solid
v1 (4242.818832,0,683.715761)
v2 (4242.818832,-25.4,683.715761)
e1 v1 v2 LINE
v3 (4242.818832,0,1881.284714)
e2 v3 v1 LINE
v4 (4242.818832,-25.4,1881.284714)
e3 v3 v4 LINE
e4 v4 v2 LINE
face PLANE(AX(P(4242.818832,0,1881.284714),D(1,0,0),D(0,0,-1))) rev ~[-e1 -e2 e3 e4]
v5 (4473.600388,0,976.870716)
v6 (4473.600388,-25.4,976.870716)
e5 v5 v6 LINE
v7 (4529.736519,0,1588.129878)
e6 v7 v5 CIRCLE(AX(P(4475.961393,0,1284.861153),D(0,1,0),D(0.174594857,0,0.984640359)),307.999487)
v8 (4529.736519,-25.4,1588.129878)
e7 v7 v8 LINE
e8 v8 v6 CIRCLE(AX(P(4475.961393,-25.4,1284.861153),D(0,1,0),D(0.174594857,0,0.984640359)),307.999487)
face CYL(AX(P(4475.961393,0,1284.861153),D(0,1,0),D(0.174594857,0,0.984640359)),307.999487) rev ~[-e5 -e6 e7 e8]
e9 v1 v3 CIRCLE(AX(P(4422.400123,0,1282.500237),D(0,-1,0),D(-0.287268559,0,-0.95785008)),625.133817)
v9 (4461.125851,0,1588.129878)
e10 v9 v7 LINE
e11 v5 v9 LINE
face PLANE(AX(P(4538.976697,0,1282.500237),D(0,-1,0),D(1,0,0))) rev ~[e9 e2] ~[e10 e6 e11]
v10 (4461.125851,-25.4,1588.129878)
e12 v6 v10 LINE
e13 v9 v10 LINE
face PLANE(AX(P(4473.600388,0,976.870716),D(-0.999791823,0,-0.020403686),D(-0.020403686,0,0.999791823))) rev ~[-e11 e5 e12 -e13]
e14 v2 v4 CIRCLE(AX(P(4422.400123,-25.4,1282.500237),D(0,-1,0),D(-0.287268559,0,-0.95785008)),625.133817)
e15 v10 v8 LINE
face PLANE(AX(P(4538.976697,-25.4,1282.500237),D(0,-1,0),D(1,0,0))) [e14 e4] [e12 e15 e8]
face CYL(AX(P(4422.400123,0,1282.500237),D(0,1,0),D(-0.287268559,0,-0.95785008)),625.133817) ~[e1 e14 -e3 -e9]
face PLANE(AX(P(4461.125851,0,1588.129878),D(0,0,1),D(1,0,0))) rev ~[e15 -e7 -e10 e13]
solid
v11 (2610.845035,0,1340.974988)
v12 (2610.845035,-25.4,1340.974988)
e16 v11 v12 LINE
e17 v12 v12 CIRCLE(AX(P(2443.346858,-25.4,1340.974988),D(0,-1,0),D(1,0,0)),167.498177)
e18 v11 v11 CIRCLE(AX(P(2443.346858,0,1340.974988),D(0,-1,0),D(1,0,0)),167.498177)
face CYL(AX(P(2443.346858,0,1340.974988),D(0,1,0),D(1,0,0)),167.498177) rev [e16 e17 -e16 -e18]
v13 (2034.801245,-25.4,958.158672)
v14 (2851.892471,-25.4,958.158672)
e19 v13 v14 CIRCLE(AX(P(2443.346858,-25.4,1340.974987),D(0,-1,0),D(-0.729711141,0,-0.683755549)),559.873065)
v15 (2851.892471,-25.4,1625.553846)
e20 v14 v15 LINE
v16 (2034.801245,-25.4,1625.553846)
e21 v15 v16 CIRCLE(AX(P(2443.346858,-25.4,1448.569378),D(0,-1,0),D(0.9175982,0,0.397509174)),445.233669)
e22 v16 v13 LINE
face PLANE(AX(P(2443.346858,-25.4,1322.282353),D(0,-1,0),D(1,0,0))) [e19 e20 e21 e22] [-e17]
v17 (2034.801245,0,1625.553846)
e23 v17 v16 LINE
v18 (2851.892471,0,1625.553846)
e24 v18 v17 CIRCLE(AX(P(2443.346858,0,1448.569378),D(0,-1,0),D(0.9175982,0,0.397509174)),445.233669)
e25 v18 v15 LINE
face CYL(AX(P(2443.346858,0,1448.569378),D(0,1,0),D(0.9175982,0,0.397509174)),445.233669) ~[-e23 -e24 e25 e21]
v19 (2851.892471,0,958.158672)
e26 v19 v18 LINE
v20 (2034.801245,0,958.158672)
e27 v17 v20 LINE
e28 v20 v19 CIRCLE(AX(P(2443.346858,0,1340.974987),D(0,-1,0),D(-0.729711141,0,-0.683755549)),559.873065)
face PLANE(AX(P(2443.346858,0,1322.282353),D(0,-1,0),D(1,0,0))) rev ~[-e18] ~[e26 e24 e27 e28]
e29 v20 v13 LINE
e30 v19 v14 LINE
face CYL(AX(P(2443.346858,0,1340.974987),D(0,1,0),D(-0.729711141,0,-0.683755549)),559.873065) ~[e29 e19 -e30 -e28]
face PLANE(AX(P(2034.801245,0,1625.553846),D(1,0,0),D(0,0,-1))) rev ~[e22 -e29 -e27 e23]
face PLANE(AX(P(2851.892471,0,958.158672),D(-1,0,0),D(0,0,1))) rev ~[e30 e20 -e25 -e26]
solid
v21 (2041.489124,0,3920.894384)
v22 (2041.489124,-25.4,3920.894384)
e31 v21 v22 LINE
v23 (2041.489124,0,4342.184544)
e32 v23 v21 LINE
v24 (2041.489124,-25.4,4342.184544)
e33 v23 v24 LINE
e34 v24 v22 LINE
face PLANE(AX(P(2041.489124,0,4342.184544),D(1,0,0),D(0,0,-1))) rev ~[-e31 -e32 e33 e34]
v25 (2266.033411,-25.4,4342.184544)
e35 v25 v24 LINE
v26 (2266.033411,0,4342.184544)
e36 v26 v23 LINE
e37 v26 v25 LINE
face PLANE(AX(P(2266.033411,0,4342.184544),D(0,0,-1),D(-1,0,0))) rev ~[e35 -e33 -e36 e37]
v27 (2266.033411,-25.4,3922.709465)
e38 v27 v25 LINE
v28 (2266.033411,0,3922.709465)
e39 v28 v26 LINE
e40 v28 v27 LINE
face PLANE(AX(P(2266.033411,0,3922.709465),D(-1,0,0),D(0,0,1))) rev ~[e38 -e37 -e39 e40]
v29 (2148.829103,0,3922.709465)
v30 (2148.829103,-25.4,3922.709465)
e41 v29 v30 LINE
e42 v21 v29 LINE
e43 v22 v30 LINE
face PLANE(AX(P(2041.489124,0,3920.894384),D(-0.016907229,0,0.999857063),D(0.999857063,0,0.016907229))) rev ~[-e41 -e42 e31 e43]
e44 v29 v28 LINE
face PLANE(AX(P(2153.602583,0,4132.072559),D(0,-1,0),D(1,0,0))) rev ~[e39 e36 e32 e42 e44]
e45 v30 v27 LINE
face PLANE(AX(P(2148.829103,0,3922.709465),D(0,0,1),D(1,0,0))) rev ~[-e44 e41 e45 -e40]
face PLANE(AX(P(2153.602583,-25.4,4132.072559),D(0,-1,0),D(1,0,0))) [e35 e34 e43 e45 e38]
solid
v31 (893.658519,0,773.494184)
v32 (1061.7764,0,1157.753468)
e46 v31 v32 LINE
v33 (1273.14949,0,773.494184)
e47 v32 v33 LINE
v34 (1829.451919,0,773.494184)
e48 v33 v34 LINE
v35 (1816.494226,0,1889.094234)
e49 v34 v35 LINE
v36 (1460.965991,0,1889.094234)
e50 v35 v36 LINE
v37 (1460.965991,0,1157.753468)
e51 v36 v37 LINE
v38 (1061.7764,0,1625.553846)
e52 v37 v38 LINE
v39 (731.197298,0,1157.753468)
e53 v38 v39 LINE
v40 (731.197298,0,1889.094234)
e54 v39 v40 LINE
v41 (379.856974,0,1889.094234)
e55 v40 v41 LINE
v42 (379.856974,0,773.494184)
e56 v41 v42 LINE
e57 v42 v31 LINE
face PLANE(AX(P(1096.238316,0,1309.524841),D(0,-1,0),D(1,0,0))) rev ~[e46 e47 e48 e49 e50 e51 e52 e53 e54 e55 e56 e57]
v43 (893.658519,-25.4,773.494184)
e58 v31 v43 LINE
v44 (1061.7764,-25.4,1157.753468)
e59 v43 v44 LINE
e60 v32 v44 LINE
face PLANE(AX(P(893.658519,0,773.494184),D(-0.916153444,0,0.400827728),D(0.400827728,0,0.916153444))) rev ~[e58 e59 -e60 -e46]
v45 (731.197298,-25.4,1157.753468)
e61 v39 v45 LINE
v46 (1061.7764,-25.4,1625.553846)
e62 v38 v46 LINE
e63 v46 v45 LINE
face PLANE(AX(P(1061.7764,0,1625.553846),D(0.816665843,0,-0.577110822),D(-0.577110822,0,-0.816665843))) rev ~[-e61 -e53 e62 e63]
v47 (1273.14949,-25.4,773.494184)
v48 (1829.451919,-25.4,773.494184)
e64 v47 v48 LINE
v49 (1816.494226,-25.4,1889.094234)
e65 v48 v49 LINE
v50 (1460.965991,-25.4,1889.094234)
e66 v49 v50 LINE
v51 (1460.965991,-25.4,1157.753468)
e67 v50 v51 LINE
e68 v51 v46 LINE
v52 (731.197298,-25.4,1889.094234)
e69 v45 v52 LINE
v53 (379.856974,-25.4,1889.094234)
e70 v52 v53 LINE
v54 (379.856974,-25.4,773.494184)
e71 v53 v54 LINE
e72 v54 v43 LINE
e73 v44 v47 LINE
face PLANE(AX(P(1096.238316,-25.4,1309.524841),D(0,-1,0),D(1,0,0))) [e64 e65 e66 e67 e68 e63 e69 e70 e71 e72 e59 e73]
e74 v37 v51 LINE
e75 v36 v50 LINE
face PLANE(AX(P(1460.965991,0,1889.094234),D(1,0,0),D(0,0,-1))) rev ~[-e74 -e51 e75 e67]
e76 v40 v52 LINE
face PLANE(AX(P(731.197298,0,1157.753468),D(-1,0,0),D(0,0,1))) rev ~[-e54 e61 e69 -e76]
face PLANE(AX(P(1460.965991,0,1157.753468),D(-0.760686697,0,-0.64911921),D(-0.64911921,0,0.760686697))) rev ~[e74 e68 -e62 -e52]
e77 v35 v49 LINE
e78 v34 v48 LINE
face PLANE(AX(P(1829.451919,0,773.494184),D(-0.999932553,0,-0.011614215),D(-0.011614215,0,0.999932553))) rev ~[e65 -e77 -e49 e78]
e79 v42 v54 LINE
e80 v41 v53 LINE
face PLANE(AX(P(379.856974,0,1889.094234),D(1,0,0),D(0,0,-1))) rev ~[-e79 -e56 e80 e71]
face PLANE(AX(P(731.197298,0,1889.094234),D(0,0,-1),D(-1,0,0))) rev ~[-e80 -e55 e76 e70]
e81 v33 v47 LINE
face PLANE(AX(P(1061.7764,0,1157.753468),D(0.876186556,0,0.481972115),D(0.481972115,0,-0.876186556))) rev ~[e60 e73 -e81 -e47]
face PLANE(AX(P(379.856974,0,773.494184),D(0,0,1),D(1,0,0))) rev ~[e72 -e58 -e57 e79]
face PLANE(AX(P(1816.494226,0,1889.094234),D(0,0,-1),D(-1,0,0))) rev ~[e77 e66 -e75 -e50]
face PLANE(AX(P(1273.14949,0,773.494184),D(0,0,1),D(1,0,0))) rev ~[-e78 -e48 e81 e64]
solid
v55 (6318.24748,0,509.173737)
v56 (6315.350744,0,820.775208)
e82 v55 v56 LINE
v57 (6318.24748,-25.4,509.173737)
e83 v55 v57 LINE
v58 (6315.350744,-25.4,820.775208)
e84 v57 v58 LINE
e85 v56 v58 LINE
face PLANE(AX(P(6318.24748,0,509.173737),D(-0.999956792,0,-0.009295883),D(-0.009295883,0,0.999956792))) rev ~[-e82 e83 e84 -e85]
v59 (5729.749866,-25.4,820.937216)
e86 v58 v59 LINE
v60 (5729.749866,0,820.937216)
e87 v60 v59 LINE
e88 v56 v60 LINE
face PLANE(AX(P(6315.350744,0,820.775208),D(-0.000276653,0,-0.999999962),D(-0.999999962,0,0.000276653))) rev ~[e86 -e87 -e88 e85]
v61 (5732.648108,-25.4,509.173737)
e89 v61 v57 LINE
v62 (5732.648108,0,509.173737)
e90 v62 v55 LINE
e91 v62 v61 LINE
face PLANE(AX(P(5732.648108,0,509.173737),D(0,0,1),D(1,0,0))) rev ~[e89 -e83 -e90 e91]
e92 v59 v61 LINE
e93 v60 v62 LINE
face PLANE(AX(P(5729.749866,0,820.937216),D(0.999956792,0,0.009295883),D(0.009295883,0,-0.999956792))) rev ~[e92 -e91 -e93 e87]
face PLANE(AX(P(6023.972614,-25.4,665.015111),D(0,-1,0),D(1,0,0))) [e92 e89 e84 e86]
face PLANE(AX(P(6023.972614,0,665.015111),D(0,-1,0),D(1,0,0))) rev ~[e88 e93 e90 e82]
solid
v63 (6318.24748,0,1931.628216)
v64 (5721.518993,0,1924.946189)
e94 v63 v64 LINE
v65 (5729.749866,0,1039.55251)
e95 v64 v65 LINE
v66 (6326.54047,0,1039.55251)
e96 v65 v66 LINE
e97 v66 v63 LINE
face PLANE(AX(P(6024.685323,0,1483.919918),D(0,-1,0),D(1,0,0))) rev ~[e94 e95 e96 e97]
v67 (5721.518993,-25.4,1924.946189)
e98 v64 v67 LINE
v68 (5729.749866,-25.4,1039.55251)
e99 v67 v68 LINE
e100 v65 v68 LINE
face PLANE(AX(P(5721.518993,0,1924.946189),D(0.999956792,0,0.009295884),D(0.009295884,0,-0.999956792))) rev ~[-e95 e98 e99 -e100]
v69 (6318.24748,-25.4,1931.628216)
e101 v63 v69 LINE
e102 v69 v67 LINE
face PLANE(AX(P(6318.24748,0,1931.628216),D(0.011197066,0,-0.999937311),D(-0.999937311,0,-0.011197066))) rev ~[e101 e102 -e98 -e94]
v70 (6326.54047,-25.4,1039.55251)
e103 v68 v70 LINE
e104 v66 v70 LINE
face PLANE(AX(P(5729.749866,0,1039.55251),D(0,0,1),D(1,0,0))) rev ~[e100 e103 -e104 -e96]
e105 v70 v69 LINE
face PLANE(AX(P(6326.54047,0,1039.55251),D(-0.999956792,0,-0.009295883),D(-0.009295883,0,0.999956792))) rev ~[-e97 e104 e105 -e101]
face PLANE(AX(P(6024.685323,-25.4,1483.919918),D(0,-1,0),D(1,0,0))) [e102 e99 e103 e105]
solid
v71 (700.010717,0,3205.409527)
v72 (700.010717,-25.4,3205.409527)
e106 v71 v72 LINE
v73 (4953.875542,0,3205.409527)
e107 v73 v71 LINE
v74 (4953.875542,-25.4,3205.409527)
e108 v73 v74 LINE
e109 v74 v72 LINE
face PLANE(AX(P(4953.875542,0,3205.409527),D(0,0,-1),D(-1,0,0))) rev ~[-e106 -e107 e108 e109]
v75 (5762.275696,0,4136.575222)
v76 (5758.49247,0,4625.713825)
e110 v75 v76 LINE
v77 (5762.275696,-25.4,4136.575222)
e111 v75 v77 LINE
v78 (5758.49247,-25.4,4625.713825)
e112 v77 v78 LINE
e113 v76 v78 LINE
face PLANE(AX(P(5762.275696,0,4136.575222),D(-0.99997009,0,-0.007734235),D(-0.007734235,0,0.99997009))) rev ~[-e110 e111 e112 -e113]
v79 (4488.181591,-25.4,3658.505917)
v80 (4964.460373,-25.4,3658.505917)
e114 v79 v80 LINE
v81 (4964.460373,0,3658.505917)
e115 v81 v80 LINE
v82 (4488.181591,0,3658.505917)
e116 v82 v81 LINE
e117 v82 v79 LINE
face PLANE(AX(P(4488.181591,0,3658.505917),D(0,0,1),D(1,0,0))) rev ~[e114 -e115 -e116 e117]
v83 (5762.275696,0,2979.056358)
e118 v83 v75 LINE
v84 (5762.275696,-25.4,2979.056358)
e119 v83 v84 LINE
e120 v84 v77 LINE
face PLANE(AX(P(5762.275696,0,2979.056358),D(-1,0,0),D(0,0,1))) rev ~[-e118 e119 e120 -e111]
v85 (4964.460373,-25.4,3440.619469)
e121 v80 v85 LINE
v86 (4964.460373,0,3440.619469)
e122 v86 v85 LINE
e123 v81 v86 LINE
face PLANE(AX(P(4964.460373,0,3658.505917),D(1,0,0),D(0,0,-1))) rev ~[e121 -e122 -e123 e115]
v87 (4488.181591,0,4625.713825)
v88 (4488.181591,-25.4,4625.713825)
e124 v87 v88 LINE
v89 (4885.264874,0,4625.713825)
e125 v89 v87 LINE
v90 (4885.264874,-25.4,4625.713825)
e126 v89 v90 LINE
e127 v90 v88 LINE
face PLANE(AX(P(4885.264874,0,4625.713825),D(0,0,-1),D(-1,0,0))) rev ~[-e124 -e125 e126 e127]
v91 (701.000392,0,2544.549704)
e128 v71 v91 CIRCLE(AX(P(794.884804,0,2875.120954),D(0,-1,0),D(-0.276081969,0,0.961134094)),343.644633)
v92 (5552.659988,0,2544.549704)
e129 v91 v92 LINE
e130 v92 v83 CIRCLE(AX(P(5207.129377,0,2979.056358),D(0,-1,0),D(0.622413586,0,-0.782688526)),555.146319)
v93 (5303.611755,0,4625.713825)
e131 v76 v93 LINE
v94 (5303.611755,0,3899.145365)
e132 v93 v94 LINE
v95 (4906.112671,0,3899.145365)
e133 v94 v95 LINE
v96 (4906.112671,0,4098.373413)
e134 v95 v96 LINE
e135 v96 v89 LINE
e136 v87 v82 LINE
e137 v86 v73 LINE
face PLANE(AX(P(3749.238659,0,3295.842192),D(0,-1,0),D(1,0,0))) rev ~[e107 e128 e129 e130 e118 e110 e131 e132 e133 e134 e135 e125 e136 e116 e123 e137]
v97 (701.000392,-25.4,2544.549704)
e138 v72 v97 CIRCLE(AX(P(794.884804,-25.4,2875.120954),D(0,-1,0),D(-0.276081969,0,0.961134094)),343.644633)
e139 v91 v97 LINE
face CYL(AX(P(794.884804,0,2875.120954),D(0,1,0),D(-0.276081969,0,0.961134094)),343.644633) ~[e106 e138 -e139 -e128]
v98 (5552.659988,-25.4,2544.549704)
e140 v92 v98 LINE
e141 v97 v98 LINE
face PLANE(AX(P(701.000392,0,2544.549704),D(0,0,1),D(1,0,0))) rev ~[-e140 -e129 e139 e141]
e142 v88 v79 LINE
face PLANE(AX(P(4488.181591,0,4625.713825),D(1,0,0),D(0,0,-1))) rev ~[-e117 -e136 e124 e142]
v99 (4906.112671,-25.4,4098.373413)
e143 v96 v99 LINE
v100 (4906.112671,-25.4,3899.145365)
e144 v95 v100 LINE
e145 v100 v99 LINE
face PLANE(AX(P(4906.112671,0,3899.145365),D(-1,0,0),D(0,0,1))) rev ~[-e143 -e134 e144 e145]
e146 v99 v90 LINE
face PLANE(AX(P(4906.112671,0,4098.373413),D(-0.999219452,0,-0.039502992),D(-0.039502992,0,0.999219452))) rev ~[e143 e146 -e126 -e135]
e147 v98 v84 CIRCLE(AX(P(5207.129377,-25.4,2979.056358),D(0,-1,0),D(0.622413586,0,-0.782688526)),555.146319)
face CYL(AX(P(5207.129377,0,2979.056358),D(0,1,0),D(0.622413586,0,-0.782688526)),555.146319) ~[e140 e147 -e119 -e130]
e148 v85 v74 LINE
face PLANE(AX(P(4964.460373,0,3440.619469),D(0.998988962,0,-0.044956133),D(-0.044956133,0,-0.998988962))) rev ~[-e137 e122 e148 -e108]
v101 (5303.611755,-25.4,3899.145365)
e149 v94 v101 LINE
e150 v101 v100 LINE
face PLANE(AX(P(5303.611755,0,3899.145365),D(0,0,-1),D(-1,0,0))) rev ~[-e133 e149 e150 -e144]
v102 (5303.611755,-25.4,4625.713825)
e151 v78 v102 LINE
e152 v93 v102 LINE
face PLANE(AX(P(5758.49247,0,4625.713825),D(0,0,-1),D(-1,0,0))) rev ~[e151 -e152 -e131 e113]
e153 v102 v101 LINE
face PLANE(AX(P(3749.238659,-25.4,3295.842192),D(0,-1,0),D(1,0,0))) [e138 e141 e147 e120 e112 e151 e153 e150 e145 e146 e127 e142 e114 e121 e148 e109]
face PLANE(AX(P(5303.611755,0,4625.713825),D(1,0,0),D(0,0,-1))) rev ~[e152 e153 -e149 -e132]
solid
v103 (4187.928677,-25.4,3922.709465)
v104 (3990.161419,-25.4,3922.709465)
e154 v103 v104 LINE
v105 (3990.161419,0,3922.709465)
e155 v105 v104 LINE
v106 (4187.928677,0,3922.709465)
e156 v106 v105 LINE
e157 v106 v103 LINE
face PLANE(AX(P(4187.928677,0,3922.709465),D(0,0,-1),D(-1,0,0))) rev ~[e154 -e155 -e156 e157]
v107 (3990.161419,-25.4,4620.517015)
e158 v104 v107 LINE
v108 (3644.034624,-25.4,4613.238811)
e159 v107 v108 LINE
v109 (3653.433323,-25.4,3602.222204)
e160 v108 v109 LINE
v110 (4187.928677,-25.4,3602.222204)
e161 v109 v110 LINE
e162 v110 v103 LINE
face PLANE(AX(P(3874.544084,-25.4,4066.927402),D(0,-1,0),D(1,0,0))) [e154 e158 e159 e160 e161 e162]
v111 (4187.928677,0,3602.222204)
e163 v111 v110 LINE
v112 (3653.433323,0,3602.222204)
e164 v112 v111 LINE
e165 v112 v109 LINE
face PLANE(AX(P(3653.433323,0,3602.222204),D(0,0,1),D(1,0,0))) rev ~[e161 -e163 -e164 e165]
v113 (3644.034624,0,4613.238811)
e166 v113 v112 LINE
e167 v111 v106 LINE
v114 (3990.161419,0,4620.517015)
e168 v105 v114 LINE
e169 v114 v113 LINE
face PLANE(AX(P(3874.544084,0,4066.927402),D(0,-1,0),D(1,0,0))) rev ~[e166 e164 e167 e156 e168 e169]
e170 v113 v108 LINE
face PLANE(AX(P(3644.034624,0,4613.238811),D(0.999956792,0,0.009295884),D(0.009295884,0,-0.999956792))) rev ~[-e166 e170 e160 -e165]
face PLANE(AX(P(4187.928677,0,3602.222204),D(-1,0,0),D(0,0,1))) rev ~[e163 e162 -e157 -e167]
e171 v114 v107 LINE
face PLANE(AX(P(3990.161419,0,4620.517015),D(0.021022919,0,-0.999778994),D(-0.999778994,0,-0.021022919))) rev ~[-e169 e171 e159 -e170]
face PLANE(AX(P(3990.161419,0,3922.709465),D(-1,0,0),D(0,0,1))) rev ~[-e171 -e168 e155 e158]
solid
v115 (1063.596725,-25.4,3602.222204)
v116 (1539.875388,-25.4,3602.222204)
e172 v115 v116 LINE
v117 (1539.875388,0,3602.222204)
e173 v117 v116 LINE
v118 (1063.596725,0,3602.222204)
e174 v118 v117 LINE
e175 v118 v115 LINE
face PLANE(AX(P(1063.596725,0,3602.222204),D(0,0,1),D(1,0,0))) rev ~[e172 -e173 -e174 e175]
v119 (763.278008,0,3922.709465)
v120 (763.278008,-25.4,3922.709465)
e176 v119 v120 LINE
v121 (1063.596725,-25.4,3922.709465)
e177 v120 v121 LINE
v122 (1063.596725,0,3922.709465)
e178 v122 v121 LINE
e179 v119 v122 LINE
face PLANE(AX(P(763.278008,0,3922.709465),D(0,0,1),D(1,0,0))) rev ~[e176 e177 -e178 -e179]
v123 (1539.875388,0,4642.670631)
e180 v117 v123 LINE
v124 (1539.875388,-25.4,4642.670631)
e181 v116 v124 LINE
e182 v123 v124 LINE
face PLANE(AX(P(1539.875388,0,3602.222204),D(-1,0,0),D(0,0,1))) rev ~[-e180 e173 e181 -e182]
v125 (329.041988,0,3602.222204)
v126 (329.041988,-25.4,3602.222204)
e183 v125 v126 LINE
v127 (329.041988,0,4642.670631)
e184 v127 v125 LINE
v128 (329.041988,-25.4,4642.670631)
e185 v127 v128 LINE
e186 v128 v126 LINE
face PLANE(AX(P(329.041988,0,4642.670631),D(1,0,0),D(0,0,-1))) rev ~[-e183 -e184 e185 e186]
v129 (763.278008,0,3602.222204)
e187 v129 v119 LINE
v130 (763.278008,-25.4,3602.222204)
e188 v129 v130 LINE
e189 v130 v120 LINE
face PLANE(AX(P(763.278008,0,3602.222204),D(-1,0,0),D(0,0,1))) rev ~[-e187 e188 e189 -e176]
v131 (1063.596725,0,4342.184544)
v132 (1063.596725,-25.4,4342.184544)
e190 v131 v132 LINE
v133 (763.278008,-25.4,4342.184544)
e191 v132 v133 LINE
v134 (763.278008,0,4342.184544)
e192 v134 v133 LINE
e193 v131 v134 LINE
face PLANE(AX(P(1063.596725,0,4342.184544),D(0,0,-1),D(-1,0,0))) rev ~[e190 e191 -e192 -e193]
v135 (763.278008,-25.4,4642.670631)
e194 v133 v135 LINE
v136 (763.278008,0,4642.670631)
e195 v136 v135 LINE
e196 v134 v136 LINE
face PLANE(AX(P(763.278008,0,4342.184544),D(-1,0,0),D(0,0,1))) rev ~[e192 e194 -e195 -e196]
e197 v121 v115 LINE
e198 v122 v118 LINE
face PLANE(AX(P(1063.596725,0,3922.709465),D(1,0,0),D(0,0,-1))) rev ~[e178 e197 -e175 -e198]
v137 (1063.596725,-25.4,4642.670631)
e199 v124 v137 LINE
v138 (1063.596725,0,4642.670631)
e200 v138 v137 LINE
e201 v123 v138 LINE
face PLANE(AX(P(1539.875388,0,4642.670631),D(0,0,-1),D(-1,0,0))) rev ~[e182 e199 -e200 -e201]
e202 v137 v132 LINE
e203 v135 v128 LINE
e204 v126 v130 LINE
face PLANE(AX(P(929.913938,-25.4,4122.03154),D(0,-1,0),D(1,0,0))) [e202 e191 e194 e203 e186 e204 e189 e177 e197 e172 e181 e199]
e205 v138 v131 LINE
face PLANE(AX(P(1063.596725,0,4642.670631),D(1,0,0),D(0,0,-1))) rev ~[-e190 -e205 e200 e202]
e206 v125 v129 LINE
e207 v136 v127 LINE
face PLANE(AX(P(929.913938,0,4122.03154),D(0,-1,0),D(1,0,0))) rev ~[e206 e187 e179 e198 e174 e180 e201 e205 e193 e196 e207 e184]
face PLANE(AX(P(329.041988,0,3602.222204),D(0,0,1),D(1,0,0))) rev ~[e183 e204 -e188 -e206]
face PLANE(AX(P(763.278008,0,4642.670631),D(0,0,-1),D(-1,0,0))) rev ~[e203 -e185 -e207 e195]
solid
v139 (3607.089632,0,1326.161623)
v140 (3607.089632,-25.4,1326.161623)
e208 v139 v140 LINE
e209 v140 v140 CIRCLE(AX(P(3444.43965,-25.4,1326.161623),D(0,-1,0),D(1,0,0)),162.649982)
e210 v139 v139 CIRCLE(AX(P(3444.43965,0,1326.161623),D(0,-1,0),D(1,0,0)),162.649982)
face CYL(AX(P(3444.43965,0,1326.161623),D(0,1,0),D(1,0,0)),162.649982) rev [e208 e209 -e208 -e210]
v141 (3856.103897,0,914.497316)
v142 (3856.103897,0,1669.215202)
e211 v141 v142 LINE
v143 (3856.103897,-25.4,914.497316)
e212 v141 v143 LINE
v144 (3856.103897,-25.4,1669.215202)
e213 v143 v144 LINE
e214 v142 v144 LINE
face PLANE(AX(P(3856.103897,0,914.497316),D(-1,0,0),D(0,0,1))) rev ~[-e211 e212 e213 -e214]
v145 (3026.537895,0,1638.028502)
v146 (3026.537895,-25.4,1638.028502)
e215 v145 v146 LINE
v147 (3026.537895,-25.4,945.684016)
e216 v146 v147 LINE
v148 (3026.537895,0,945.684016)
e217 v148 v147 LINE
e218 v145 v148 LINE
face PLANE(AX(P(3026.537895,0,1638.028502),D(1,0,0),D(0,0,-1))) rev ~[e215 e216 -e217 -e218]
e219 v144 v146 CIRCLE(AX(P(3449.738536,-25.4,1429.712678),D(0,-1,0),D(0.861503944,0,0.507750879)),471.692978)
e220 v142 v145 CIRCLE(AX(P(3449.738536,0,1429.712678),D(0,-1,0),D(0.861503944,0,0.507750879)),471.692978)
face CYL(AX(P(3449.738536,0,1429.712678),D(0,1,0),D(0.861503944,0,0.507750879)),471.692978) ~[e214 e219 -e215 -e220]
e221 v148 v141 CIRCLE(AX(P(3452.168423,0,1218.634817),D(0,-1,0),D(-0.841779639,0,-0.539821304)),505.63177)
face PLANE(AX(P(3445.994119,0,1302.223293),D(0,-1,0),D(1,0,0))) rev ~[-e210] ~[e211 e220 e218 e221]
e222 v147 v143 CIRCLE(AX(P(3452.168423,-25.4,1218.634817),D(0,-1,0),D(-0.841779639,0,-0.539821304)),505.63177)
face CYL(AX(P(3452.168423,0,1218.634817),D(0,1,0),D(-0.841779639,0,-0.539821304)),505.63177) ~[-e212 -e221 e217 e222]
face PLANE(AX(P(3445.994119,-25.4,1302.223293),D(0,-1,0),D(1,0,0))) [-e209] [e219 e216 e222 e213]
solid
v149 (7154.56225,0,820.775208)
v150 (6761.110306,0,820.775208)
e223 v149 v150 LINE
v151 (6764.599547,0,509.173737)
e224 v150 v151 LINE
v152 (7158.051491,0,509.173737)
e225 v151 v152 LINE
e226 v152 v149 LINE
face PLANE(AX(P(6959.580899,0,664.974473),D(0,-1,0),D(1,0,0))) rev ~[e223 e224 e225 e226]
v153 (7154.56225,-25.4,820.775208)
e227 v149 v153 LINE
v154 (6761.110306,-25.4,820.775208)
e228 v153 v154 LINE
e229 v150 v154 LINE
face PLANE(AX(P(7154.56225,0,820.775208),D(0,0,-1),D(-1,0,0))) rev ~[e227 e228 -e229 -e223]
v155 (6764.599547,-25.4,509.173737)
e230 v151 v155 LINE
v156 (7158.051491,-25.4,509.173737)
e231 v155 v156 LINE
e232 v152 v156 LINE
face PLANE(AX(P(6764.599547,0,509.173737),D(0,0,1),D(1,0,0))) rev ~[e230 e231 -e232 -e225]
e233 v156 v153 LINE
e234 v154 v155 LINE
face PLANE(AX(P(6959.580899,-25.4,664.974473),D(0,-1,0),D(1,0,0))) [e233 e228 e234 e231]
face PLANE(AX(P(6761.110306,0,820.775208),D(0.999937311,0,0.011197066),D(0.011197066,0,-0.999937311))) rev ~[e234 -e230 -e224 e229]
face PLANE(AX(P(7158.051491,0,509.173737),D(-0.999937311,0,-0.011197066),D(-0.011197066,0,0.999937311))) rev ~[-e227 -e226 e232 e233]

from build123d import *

# Parameters (mm, degrees)
F0_R     = 167.498177
F0_R_2   = 162.649982
F3_DEPTH = 25.4


with BuildPart() as f3:
    # F0 (on Front) → F3 (new body)
    with BuildSketch(Plane.XZ):
        Polygon((329.041988, 4642.670631), (329.041988, 4613.238811), (329.041988, 3602.222204), (763.278008, 3602.222204), (763.278008, 3922.709465), (1063.596725, 3922.709465), (1063.596725, 3602.222204), (1539.875388, 3602.222204), (1539.875388, 4642.670631), (1063.596725, 4642.670631), (1063.596725, 4342.184544), (763.278008, 4342.184544), (763.278008, 4642.670631), align=None)
        Polygon((3644.034624, 4613.238811), (3653.433323, 3602.222204), (4187.928677, 3602.222204), (4187.928677, 3922.709465), (3990.161419, 3922.709465), (3990.161419, 4620.517015), align=None)
        with BuildLine():
            Line((4488.181591, 4625.713825), (4488.181591, 4136.575222))
            Line((4488.181591, 4136.575222), (4488.181591, 3658.505917))
            Line((4488.181591, 3658.505917), (4964.460373, 3658.505917))
            Line((4964.460373, 3658.505917), (4964.460373, 3440.619469))
            Line((4964.460373, 3440.619469), (4953.875542, 3205.409527))
            Line((4953.875542, 3205.409527), (4485.037804, 3205.409527))
            Line((4485.037804, 3205.409527), (700.010717, 3205.409527))
            ThreePointArc((700.010717, 3205.409527), (451.240556, 2874.606327), (701.000392, 2544.549704))
            Line((701.000392, 2544.549704), (4940.819263, 2544.549704))
            Line((4940.819263, 2544.549704), (5552.659988, 2544.549704))
            ThreePointArc((5552.659988, 2544.549704), (5707.133118, 2737.843393), (5762.275696, 2979.056358))
            Line((5762.275696, 2979.056358), (5762.275696, 3364.673376))
            Line((5762.275696, 3364.673376), (5762.275696, 4136.575222))
            Line((5762.275696, 4136.575222), (5758.49247, 4625.713825))
            Line((5758.49247, 4625.713825), (5303.611755, 4625.713825))
            Line((5303.611755, 4625.713825), (5303.611755, 4136.575222))
            Line((5303.611755, 4136.575222), (5303.611755, 3899.145365))
            Line((5303.611755, 3899.145365), (4906.112671, 3899.145365))
            Line((4906.112671, 3899.145365), (4906.112671, 4098.373413))
            Line((4906.112671, 4098.373413), (4885.264874, 4625.713825))
            Line((4885.264874, 4625.713825), (4488.181591, 4625.713825))
        make_face()
        Polygon((731.197298, 1889.094234), (379.856974, 1889.094234), (379.856974, 773.494184), (893.658519, 773.494184), (1061.7764, 1157.753468), (1273.14949, 773.494184), (1829.451919, 773.494184), (1816.494226, 1889.094234), (1460.965991, 1889.094234), (1460.965991, 1157.753468), (1061.7764, 1625.553846), (731.197298, 1157.753468), align=None)
        with BuildLine():
            ThreePointArc((2851.892471, 1625.553846), (2443.346858, 1893.803047), (2034.801245, 1625.553846))
            Line((2034.801245, 1625.553846), (2034.801245, 958.158672))
            ThreePointArc((2034.801245, 958.158672), (2443.346858, 781.101922), (2851.892471, 958.158672))
            Line((2851.892471, 958.158672), (2851.892471, 1625.553846))
        make_face()
        with Locations((2443.346858, 1340.974988)):
            Circle(F0_R, mode=Mode.SUBTRACT)
        with BuildLine():
            ThreePointArc((3856.103897, 1669.215202), (3432.018231, 1901.072685), (3026.537895, 1638.028502))
            Line((3026.537895, 1638.028502), (3026.537895, 945.684016))
            ThreePointArc((3026.537895, 945.684016), (3433.173124, 713.359976), (3856.103897, 914.497316))
            Line((3856.103897, 914.497316), (3856.103897, 1669.215202))
        make_face()
        with Locations((3444.43965, 1326.161623)):
            Circle(F0_R_2, mode=Mode.SUBTRACT)
        with BuildLine():
            ThreePointArc((4242.818832, 683.715761), (5047.53394, 1282.500237), (4242.818832, 1881.284714))
            Line((4242.818832, 1881.284714), (4242.818832, 683.715761))
        make_face()
        with BuildLine():
            Line((4473.600388, 976.870716), (4461.125851, 1588.129878))
            Line((4461.125851, 1588.129878), (4529.736519, 1588.129878))
            ThreePointArc((4529.736519, 1588.129878), (4782.670202, 1256.693974), (4473.600388, 976.870716))
        make_face(mode=Mode.SUBTRACT)
        Polygon((2266.033411, 4342.184544), (2148.829103, 4342.184544), (2041.489124, 4342.184544), (2041.489124, 3920.894384), (2148.829103, 3922.709465), (2266.033411, 3922.709465), align=None)
        Polygon((6318.24748, 1931.628216), (5721.518993, 1924.946189), (5729.749866, 1039.55251), (6326.54047, 1039.55251), align=None)
        Polygon((6315.350744, 820.775208), (5729.749866, 820.937216), (5732.648108, 509.173737), (6318.24748, 509.173737), align=None)
        Polygon((7154.56225, 820.775208), (6761.110306, 820.775208), (6764.599547, 509.173737), (7158.051491, 509.173737), align=None)
    extrude(amount=F3_DEPTH)


solid = f3.part
